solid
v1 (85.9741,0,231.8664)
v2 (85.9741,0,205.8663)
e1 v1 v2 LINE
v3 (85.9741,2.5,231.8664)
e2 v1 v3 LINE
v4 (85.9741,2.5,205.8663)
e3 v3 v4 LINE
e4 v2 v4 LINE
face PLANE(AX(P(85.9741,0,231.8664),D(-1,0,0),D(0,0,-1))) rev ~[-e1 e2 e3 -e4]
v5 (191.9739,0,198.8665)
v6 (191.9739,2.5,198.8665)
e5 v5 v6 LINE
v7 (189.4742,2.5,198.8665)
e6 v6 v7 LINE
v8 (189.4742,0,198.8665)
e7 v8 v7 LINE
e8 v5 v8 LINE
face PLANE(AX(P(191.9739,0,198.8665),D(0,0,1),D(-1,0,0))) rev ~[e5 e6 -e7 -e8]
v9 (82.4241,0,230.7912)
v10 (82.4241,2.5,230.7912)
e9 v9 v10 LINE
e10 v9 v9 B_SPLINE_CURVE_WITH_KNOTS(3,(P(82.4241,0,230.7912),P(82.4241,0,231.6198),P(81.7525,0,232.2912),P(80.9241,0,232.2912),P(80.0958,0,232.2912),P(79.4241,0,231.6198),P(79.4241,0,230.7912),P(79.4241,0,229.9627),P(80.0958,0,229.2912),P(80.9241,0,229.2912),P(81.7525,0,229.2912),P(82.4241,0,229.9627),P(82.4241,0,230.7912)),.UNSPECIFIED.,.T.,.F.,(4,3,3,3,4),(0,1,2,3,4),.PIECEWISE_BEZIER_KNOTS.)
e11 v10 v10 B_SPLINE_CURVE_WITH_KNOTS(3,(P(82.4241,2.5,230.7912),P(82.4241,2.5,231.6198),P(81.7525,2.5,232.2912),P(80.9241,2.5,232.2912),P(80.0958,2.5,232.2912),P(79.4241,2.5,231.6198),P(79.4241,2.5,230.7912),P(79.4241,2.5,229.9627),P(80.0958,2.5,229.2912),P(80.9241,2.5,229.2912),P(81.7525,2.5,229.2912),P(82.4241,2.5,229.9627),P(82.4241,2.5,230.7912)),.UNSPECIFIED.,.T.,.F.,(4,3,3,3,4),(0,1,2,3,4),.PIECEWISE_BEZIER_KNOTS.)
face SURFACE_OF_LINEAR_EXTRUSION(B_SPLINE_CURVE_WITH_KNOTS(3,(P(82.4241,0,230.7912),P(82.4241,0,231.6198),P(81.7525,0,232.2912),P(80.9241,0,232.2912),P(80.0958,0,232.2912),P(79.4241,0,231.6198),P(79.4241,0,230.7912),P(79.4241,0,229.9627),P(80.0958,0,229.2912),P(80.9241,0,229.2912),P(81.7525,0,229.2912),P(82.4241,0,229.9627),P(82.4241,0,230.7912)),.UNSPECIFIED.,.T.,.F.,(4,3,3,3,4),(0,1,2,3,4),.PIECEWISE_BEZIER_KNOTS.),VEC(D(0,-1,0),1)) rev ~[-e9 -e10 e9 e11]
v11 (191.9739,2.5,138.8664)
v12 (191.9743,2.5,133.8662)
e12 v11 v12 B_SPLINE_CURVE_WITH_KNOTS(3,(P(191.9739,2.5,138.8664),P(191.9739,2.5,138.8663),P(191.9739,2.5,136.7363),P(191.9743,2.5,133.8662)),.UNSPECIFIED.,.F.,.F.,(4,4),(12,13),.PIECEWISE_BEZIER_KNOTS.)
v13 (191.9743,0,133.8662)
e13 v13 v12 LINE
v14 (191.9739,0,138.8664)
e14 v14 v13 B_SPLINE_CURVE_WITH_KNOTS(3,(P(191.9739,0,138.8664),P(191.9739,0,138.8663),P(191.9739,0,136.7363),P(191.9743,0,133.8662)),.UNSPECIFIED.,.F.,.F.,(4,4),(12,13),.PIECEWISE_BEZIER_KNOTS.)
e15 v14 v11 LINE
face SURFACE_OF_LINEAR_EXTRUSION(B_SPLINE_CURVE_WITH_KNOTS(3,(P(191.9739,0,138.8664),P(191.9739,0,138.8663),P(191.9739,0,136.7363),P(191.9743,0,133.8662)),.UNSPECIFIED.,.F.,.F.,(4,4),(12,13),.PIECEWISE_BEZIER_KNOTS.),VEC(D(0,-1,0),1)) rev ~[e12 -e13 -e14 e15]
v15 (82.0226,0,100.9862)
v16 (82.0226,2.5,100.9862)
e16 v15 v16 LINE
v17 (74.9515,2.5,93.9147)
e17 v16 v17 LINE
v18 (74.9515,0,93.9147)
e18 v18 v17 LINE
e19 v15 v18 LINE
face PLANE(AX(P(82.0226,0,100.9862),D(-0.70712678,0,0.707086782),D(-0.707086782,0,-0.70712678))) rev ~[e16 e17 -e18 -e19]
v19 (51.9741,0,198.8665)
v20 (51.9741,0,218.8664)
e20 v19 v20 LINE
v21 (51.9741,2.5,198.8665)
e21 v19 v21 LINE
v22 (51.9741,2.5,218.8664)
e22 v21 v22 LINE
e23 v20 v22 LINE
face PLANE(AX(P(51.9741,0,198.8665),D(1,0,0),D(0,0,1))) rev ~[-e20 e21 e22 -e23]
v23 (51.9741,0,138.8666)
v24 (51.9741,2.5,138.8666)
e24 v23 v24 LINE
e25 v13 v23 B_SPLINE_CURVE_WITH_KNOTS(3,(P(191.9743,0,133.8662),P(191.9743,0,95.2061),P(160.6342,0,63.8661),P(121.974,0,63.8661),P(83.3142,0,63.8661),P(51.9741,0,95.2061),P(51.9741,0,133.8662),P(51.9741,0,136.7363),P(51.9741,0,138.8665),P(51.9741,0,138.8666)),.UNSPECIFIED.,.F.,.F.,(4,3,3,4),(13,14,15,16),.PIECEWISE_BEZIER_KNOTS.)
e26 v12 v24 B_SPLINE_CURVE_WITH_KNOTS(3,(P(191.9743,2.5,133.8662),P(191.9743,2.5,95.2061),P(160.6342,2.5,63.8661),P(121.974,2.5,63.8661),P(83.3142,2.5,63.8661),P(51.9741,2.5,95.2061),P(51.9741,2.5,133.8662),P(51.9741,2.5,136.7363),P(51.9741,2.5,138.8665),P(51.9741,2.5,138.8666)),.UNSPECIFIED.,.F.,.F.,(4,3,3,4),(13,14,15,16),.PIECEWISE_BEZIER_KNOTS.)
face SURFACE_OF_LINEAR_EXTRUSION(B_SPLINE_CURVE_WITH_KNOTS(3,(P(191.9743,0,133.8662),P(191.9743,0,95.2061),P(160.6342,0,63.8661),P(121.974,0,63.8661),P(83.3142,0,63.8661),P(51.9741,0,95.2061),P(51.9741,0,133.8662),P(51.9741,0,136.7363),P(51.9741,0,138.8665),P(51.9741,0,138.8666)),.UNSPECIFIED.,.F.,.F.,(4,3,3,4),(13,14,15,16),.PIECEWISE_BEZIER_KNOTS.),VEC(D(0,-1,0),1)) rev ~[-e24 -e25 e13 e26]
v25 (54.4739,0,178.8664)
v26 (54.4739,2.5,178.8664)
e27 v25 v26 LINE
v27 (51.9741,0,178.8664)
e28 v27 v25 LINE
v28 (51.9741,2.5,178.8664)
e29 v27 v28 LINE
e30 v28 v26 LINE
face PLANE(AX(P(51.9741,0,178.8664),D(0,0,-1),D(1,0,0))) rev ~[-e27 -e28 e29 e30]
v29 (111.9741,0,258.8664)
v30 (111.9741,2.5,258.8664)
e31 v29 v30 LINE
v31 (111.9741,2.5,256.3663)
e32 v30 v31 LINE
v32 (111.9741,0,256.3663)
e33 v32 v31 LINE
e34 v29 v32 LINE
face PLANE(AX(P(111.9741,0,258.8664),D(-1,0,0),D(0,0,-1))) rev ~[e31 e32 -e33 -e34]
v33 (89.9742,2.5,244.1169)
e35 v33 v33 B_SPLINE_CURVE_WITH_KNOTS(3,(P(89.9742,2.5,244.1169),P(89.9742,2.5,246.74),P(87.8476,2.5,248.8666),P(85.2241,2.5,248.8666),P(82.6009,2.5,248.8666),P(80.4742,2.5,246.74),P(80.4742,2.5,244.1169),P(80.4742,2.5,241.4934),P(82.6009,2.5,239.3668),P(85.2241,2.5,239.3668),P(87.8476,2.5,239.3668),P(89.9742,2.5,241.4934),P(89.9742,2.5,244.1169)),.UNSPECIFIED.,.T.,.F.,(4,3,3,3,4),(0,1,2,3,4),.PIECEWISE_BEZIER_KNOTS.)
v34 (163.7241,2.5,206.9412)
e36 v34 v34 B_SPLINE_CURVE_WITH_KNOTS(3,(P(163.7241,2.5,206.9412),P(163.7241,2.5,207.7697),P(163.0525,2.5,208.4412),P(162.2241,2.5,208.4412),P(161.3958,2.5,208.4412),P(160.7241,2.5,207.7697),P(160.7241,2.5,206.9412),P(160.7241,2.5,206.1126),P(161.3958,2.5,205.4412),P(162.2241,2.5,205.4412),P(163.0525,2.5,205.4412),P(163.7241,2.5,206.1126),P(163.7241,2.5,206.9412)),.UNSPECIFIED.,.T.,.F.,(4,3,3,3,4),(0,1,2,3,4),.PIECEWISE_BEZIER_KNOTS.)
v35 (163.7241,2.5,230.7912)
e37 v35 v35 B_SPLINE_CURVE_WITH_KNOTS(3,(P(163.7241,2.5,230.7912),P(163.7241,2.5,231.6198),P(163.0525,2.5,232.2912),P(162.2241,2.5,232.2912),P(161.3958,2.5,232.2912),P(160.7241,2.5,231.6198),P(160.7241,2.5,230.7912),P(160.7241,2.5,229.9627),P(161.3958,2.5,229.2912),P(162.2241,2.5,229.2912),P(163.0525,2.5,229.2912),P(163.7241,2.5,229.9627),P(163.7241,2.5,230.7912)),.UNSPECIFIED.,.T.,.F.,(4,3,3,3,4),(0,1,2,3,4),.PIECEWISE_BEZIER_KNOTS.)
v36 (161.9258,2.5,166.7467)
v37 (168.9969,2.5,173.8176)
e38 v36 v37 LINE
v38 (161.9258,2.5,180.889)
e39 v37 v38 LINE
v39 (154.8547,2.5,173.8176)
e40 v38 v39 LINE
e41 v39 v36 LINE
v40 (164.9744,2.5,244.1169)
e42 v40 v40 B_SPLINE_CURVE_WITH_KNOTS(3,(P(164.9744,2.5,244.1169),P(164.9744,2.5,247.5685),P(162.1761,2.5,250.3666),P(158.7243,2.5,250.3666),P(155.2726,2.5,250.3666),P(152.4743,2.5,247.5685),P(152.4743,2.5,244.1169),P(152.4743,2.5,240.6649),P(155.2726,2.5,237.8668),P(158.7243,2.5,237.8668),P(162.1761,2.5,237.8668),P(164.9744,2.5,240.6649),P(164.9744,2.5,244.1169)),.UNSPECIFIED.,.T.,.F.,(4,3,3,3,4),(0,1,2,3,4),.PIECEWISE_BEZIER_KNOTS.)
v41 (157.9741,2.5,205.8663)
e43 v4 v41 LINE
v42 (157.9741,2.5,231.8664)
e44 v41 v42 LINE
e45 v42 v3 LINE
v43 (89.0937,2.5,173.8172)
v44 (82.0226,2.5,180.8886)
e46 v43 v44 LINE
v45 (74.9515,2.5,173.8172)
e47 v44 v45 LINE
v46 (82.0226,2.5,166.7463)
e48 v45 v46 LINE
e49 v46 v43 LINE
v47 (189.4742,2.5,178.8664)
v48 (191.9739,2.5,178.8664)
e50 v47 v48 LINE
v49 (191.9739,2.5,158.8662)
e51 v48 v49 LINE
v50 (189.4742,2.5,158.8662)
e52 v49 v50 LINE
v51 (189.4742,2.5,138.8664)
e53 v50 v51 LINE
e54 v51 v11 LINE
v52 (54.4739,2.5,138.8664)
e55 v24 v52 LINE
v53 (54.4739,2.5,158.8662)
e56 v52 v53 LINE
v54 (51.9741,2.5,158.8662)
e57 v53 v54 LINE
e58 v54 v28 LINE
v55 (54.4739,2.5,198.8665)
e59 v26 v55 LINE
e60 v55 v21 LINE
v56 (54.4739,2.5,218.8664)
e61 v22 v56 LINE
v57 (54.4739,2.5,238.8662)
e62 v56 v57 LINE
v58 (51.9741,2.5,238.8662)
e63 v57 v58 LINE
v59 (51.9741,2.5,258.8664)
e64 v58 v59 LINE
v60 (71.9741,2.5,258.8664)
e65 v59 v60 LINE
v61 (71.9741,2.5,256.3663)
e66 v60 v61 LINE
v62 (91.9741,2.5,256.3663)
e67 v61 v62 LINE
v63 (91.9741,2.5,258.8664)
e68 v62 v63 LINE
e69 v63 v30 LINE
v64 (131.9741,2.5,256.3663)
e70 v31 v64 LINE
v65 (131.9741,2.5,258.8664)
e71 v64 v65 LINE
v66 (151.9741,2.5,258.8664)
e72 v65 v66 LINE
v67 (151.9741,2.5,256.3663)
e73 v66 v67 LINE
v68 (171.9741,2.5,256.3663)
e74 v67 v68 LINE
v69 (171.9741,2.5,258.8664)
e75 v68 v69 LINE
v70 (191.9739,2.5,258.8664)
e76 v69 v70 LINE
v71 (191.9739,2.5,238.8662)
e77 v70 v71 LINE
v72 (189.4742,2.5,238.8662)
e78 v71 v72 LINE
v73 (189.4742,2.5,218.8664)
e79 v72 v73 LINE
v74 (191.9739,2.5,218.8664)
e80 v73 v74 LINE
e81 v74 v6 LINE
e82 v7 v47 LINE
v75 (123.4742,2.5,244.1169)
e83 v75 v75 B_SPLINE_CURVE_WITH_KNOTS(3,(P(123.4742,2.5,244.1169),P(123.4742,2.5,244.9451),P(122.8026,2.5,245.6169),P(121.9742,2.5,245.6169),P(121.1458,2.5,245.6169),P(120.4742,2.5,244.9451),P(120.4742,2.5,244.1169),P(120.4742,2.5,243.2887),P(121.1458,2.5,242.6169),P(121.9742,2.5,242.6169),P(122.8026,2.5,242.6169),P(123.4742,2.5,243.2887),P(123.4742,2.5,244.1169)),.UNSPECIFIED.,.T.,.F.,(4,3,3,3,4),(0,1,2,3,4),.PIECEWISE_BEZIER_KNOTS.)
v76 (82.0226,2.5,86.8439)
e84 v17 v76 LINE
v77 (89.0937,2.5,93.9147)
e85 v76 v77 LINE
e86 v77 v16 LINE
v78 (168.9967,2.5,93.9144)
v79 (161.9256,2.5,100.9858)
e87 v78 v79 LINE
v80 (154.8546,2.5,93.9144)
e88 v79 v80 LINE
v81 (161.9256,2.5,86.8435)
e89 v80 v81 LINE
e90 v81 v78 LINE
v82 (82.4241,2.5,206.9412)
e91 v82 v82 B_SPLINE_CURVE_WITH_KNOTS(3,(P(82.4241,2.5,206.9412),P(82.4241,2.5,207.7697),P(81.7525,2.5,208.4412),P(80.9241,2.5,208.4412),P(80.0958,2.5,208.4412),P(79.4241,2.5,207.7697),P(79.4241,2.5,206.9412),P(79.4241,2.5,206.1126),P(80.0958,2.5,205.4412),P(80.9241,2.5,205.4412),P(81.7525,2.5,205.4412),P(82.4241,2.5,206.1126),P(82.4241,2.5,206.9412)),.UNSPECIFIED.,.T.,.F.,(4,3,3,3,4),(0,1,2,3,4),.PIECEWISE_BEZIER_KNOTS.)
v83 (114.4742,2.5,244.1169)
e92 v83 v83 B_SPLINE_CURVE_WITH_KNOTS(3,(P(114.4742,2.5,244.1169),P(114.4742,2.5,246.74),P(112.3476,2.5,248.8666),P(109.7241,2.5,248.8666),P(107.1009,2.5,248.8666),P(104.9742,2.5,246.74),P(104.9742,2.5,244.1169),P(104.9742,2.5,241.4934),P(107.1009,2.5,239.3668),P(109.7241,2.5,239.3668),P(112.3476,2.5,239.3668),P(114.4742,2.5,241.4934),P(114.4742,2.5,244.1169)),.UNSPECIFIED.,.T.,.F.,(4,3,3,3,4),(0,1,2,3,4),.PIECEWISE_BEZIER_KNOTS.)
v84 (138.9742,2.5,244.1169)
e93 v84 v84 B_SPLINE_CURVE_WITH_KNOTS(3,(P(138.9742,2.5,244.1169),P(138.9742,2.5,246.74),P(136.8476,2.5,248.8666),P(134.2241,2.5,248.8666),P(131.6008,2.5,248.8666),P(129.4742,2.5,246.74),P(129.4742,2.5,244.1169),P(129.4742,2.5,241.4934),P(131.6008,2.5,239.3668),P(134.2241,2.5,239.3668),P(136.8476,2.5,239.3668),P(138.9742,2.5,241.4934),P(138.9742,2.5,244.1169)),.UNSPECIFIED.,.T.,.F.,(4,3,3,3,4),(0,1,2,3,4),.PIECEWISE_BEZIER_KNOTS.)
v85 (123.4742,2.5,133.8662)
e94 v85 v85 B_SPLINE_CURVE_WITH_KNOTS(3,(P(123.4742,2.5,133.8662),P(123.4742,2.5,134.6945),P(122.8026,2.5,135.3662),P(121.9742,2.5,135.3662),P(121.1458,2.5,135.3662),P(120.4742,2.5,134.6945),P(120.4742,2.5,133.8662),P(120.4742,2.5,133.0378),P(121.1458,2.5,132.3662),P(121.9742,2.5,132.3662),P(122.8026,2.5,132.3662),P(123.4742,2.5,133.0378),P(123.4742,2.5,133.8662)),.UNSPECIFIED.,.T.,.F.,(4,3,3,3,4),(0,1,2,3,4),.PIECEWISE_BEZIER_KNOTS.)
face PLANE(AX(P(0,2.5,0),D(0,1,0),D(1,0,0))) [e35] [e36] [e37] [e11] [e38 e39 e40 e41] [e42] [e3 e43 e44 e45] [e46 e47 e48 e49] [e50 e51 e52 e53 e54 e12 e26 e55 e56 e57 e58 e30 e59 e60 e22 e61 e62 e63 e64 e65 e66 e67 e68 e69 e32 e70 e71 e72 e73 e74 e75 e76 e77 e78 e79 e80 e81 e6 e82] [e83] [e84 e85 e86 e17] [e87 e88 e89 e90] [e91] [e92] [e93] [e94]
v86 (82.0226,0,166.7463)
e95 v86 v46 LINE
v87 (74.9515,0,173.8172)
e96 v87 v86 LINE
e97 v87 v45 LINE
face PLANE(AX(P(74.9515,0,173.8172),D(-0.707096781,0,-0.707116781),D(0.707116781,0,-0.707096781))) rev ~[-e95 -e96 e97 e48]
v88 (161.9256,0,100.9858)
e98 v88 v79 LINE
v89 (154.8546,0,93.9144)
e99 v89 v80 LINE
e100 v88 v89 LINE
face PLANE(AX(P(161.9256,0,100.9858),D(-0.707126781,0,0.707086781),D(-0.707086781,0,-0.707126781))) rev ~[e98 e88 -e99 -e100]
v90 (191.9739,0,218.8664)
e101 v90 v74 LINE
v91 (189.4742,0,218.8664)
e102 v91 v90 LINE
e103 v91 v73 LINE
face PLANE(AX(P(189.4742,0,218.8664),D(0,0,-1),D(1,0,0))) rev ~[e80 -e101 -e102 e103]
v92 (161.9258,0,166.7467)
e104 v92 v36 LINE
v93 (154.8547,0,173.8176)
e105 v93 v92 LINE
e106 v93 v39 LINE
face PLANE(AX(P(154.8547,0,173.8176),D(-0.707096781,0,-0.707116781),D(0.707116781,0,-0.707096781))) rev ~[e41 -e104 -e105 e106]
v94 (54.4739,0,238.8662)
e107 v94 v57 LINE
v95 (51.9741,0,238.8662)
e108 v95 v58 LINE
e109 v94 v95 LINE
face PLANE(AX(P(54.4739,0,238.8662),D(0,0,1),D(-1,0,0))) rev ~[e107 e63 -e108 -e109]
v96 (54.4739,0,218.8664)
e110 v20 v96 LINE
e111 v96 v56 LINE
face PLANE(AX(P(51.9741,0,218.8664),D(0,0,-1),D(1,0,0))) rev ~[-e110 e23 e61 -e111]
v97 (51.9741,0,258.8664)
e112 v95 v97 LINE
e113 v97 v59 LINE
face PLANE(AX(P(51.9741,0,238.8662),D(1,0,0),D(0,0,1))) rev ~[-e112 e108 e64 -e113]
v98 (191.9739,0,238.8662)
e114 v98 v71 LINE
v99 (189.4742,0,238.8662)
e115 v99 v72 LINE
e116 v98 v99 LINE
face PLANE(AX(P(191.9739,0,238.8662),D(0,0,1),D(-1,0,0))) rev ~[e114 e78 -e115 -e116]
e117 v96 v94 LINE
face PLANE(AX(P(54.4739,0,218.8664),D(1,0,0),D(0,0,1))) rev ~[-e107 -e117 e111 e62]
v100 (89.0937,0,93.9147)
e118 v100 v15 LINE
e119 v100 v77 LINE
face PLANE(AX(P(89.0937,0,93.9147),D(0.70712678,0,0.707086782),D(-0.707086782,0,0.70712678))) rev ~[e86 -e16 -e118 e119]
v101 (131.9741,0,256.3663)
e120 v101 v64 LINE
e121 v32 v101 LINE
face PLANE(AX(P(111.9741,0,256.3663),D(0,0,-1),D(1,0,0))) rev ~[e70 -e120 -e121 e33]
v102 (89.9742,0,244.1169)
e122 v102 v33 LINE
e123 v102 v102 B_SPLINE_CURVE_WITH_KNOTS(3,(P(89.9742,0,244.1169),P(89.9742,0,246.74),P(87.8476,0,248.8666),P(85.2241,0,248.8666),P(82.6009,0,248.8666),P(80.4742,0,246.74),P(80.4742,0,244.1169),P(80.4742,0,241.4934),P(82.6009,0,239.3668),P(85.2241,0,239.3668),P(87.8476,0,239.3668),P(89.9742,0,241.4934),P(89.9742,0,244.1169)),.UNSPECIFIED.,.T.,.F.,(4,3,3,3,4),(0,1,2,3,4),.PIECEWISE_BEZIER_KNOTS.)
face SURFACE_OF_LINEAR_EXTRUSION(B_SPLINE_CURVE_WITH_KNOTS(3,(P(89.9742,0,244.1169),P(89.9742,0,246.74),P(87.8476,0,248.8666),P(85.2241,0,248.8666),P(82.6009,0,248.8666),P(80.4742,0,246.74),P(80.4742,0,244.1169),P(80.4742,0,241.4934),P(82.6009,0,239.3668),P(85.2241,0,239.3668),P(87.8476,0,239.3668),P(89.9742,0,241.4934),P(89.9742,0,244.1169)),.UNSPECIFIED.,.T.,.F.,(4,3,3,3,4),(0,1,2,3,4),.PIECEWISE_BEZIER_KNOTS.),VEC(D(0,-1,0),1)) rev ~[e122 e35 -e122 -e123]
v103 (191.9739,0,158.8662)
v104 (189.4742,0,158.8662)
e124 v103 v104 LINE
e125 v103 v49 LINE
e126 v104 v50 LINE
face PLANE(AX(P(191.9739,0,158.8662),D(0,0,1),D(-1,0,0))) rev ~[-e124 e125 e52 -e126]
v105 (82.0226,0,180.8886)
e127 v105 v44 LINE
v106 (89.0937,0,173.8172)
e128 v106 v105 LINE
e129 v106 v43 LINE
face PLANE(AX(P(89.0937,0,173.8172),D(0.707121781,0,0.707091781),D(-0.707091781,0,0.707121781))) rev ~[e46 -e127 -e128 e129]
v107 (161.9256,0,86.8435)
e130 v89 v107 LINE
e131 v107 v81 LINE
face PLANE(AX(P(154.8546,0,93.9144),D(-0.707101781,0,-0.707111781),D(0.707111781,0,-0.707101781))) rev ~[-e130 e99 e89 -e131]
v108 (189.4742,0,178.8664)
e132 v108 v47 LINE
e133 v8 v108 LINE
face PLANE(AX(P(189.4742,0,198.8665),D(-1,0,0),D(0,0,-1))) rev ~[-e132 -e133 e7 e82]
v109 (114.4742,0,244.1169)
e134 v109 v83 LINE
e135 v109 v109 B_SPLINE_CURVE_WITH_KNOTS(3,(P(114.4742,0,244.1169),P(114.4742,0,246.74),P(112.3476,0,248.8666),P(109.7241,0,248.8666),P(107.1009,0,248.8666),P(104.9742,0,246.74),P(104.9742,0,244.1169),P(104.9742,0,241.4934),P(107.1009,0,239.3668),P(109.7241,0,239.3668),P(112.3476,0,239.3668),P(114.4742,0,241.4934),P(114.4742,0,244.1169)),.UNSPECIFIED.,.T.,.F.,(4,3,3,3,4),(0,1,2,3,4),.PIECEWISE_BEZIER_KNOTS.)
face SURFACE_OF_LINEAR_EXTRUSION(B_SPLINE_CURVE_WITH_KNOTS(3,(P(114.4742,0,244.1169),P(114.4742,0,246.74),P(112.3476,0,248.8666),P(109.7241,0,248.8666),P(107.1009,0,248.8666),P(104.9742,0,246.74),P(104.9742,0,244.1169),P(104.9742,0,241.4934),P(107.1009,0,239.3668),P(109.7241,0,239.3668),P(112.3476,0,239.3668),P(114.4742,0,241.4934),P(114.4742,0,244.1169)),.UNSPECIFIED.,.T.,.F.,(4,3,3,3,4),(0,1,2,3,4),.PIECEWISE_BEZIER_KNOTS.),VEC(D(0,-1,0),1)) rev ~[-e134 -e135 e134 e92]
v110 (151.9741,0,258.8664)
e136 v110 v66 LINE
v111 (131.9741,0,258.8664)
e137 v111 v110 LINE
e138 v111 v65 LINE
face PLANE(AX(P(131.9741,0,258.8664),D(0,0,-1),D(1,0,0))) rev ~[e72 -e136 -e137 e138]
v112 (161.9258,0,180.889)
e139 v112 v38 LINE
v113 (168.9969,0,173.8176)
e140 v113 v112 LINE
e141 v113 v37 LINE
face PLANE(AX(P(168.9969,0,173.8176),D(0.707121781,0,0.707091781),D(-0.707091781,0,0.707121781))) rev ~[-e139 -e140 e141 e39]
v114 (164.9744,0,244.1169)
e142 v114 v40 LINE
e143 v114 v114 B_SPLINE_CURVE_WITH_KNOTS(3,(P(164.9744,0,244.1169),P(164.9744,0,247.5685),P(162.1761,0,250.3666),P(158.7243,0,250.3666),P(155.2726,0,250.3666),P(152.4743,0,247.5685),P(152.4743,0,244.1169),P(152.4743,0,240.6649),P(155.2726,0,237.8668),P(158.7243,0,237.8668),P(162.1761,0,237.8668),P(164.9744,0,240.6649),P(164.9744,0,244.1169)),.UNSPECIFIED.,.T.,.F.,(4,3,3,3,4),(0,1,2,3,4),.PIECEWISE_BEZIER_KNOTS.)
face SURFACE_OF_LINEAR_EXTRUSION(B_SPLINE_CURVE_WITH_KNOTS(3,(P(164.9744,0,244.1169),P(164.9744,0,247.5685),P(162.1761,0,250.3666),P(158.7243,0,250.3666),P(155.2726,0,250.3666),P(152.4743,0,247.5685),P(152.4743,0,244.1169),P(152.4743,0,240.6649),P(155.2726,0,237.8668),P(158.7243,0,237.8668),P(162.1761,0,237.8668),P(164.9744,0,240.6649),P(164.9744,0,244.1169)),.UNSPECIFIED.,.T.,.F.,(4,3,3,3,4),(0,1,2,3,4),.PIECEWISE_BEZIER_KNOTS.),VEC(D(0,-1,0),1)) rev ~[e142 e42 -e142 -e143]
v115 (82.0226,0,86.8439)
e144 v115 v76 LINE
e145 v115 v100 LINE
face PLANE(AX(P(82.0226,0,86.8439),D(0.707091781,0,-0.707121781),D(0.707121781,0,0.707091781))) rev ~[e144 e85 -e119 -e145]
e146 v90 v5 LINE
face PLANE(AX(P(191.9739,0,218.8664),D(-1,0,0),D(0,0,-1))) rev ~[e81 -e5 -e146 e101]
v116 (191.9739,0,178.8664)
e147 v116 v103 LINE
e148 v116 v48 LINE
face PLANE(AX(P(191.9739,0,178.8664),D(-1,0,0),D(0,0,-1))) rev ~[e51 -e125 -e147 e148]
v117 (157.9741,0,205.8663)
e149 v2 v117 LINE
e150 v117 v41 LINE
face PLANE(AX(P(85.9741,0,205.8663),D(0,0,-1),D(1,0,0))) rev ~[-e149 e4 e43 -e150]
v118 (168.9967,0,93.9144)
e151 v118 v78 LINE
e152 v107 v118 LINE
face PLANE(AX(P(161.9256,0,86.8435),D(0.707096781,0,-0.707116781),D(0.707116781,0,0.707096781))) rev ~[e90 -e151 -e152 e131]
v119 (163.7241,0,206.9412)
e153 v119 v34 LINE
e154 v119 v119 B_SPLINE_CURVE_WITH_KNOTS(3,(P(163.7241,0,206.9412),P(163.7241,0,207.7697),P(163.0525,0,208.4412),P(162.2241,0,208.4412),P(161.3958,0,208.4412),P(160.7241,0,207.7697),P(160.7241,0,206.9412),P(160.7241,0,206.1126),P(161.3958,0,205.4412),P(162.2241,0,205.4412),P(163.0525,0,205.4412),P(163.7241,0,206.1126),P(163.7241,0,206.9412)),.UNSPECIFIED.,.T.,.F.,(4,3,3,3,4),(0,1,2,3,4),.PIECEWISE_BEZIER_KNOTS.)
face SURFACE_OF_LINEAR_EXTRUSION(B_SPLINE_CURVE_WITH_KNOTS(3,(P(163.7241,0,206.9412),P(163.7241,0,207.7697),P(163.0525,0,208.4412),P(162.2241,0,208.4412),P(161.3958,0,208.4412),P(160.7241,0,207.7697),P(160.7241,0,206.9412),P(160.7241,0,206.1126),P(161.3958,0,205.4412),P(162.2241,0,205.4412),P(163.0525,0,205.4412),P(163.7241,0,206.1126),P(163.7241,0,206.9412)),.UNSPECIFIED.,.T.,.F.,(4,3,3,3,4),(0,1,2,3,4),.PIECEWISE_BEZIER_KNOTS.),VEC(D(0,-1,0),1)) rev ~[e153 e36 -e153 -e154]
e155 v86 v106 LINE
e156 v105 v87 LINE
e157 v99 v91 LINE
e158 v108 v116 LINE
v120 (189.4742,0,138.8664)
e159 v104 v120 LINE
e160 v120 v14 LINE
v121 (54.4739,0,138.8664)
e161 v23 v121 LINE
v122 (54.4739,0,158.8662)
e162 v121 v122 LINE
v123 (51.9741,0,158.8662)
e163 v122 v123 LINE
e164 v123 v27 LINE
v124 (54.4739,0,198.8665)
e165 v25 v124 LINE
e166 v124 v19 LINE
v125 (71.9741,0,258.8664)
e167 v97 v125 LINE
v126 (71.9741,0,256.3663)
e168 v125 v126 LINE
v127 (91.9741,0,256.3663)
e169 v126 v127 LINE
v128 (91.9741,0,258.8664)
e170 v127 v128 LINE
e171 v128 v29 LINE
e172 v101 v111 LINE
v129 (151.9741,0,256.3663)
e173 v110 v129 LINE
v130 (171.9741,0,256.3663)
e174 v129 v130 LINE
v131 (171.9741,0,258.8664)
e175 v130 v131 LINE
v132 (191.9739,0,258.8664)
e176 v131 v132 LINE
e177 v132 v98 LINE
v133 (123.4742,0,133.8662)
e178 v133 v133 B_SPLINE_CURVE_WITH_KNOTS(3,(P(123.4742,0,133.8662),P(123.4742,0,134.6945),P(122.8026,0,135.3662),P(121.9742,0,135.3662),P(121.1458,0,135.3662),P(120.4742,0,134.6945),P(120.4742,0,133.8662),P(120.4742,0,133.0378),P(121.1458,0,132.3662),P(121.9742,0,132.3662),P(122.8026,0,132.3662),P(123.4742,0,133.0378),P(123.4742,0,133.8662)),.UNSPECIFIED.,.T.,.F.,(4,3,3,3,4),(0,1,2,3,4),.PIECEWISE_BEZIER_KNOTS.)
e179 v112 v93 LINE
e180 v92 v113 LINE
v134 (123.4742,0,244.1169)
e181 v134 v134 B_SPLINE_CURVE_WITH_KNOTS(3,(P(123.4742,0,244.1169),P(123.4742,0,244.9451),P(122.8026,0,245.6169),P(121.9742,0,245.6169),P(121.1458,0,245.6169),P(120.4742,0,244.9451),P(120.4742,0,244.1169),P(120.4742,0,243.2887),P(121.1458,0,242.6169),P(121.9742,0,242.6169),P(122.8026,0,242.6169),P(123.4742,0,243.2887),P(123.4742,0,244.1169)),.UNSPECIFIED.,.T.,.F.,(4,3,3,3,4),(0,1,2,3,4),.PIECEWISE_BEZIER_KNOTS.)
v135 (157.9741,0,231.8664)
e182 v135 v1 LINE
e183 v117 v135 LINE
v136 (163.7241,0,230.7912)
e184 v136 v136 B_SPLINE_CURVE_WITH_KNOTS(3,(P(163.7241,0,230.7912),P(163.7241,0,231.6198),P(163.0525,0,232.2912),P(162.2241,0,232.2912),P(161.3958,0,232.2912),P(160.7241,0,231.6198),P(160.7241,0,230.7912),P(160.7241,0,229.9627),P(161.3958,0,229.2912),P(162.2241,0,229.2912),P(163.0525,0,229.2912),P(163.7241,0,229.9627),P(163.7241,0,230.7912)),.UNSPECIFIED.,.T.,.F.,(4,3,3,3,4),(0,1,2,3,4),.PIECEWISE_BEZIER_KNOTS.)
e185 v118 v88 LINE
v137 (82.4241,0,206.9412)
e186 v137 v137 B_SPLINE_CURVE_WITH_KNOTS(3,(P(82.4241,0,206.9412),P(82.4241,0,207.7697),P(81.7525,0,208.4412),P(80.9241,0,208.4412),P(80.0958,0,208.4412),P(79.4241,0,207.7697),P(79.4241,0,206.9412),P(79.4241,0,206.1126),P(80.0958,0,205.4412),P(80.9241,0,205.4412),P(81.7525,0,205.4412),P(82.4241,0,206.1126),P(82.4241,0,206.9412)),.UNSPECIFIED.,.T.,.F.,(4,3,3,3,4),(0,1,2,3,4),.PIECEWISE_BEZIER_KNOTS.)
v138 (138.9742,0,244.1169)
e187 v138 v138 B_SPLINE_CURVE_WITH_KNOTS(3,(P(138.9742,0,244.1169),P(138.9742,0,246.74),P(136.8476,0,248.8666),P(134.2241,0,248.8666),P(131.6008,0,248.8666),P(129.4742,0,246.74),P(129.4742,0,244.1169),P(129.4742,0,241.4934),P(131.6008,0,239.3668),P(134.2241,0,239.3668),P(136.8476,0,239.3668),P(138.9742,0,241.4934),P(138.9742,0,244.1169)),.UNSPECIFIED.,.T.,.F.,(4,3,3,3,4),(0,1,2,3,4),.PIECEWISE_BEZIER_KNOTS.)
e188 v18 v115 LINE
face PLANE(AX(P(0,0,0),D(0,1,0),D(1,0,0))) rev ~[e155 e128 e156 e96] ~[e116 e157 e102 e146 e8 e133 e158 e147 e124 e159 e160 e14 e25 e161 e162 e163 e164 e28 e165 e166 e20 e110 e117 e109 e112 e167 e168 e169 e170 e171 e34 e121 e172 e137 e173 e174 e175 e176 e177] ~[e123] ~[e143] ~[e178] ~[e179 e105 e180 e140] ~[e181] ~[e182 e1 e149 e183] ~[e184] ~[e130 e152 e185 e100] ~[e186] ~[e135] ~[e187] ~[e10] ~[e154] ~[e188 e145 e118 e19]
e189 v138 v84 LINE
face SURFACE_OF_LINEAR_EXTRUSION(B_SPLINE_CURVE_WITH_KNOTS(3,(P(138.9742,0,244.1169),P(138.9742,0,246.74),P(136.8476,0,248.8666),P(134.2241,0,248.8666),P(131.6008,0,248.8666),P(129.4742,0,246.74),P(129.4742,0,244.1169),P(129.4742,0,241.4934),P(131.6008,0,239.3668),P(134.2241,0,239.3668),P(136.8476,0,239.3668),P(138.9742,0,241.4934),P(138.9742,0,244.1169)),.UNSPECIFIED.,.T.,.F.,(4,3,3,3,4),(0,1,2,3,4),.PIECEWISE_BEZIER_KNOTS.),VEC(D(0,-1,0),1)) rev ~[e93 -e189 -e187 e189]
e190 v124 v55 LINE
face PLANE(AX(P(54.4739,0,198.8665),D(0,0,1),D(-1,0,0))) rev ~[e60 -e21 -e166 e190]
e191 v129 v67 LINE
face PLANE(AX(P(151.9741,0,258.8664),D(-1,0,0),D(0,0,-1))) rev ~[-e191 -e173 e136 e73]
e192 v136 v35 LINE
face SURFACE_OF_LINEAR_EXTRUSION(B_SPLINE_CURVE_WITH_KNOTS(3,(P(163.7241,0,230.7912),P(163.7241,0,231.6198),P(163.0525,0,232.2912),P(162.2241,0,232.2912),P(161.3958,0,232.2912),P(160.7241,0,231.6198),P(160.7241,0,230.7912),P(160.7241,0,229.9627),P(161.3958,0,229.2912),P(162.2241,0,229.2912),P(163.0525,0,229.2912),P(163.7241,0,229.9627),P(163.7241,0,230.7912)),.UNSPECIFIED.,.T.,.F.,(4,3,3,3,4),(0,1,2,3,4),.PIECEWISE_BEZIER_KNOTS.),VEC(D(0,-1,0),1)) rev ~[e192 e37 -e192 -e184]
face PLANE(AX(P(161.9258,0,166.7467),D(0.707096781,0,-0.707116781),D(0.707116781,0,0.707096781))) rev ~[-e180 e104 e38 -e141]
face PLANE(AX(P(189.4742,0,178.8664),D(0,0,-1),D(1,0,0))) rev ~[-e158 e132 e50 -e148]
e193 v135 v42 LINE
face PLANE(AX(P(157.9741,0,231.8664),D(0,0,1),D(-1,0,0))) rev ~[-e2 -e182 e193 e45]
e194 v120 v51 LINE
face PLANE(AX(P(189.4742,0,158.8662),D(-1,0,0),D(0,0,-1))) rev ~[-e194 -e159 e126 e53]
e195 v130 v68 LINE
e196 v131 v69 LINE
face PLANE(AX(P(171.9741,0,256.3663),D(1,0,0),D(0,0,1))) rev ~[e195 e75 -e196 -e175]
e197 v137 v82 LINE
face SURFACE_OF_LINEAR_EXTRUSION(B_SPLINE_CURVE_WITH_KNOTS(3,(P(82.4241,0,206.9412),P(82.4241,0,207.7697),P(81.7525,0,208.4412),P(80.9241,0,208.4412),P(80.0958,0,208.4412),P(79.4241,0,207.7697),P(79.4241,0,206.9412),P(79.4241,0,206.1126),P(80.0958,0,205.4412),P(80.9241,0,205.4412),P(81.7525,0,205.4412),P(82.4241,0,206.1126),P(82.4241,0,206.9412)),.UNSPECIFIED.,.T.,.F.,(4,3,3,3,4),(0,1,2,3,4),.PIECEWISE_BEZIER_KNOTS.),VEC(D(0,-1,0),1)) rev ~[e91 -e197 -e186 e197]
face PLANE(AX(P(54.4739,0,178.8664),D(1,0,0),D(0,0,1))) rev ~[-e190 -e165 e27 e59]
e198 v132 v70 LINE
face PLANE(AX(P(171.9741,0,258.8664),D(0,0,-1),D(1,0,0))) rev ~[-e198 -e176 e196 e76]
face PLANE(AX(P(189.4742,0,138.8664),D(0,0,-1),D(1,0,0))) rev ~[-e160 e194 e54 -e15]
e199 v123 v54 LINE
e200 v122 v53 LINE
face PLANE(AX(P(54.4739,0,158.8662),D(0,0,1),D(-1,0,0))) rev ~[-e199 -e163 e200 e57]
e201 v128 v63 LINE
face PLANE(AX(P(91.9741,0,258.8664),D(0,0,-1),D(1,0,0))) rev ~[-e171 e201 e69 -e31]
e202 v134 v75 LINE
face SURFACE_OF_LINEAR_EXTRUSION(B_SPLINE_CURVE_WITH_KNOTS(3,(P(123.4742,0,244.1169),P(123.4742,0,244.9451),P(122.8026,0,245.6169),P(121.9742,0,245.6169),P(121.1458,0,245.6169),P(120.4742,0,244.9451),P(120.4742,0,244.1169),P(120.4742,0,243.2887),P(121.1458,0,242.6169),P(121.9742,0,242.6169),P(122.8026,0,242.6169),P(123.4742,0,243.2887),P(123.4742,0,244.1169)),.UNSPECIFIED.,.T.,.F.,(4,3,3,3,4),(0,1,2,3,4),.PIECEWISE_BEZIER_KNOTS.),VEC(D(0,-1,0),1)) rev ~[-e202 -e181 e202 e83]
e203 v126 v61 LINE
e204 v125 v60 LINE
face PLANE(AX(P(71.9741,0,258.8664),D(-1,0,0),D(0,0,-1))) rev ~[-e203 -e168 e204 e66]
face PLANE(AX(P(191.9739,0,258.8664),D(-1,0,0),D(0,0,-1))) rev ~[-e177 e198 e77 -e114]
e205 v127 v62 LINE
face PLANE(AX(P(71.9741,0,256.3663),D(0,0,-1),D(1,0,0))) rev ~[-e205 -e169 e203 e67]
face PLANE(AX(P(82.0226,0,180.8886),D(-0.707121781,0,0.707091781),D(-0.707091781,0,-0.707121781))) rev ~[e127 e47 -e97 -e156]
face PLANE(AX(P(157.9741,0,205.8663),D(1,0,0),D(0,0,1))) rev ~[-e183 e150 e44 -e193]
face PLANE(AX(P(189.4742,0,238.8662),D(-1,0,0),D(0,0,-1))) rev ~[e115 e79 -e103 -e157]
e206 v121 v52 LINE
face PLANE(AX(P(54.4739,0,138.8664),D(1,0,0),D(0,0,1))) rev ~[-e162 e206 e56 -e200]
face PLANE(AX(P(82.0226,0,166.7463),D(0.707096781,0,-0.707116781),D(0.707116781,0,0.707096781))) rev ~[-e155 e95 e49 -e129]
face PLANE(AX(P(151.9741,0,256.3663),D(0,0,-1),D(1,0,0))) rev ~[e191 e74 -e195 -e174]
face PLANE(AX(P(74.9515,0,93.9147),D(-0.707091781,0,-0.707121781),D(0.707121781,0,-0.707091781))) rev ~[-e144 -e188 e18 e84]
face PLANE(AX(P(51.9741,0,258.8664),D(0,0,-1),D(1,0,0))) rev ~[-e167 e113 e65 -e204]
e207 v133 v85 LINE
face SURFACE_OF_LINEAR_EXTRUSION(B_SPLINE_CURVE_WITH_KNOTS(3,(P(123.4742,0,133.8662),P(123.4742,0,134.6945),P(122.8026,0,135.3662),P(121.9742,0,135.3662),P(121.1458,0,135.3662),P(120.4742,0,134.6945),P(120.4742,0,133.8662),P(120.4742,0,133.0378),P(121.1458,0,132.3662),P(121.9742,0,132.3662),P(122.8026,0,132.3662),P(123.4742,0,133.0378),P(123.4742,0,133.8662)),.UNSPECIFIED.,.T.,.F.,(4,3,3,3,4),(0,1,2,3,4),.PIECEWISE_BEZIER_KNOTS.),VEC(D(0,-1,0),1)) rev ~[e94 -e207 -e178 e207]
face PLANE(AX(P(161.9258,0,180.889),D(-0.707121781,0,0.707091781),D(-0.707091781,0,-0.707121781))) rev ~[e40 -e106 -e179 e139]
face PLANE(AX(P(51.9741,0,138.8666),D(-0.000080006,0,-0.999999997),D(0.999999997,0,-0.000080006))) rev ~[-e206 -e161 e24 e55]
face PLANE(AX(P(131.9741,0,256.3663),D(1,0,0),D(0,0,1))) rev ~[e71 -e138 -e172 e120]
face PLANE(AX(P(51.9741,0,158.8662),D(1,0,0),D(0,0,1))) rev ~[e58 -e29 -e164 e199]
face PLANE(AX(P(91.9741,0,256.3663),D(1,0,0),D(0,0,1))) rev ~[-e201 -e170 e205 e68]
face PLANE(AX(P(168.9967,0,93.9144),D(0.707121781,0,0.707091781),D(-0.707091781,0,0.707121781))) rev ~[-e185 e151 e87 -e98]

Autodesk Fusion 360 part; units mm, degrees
sketch "スケッチ1" plane through (0, 0, 0) normal (0, 1, 0) x (1, 0, 0)
  line L0 (74.9515, -173.8172) -> (82.0226, -166.7463)
  line L1 (82.0226, -180.8886) -> (74.9515, -173.8172)
  line L2 (168.9969, -173.8176) -> (161.9258, -180.889)
  line L3 (161.9258, -166.7467) -> (168.9969, -173.8176)
  line L4 (85.9741, -205.8663) -> (157.9741, -205.8663)
  line L5 (74.9515, -93.9147) -> (82.0226, -86.8439)
  line L6 (191.9739, -258.8664) -> (191.9739, -238.8662)
  line L7 (191.9739, -238.8662) -> (189.4742, -238.8662)
  line L8 (189.4742, -238.8662) -> (189.4742, -218.8664)
  line L9 (189.4742, -218.8664) -> (191.9739, -218.8664)
  line L10 (191.9739, -218.8664) -> (191.9739, -198.8665)
  line L11 (191.9739, -198.8665) -> (189.4742, -198.8665)
  line L12 (189.4742, -198.8665) -> (189.4742, -178.8664)
  line L13 (189.4742, -178.8664) -> (191.9739, -178.8664)
  line L14 (191.9739, -178.8664) -> (191.9739, -158.8662)
  line L15 (191.9739, -158.8662) -> (189.4742, -158.8662)
  line L16 (189.4742, -158.8662) -> (189.4742, -138.8664)
  line L17 (189.4742, -138.8664) -> (191.9739, -138.8664)
  spline S0 degree 3 poles (191.9739, -138.8664) (191.9739, -138.8663) (191.9739, -136.7363) (191.9743, -133.8662) knots 12 12 12 12 13 13 13 13
  spline S1 degree 3 poles (191.9743, -133.8662) (191.9743, -95.2061) (160.6342, -63.8661) (121.974, -63.8661) (83.3142, -63.8661) (51.9741, -95.2061) (51.9741, -133.8662) (51.9741, -136.7363) (51.9741, -138.8665) (51.9741, -138.8666) knots 13 13 13 13 14 14 14 15 15 15 16 16 16 16
  line L18 (51.9741, -138.8666) -> (54.4739, -138.8664)
  line L19 (54.4739, -138.8664) -> (54.4739, -158.8662)
  line L20 (54.4739, -158.8662) -> (51.9741, -158.8662)
  line L21 (51.9741, -158.8662) -> (51.9741, -178.8664)
  line L22 (51.9741, -178.8664) -> (54.4739, -178.8664)
  line L23 (54.4739, -178.8664) -> (54.4739, -198.8665)
  line L24 (54.4739, -198.8665) -> (51.9741, -198.8665)
  line L25 (51.9741, -198.8665) -> (51.9741, -218.8664)
  line L26 (51.9741, -218.8664) -> (54.4739, -218.8664)
  line L27 (54.4739, -218.8664) -> (54.4739, -238.8662)
  line L28 (54.4739, -238.8662) -> (51.9741, -238.8662)
  line L29 (51.9741, -238.8662) -> (51.9741, -258.8664)
  line L30 (51.9741, -258.8664) -> (71.9741, -258.8664)
  line L31 (71.9741, -258.8664) -> (71.9741, -256.3663)
  line L32 (71.9741, -256.3663) -> (91.9741, -256.3663)
  line L33 (91.9741, -256.3663) -> (91.9741, -258.8664)
  line L34 (91.9741, -258.8664) -> (111.9741, -258.8664)
  line L35 (111.9741, -258.8664) -> (111.9741, -256.3663)
  line L36 (111.9741, -256.3663) -> (131.9741, -256.3663)
  line L37 (131.9741, -256.3663) -> (131.9741, -258.8664)
  line L38 (131.9741, -258.8664) -> (151.9741, -258.8664)
  line L39 (151.9741, -258.8664) -> (151.9741, -256.3663)
  line L40 (151.9741, -256.3663) -> (171.9741, -256.3663)
  line L41 (171.9741, -256.3663) -> (171.9741, -258.8664)
  line L42 (171.9741, -258.8664) -> (191.9739, -258.8664)
  line L43 (89.0937, -173.8172) -> (82.0226, -180.8886)
  line L44 (161.9256, -100.9858) -> (154.8546, -93.9144)
  line L45 (161.9258, -180.889) -> (154.8547, -173.8176)
  line L46 (89.0937, -93.9147) -> (82.0226, -100.9862)
  spline S2 degree 3 poles (123.4742, -244.1169) (123.4742, -244.9451) (122.8026, -245.6169) (121.9742, -245.6169) (121.1458, -245.6169) (120.4742, -244.9451) (120.4742, -244.1169) (120.4742, -243.2887) (121.1458, -242.6169) (121.9742, -242.6169) (122.8026, -242.6169) (123.4742, -243.2887) (123.4742, -244.1169) knots 0 0 0 0 1 1 1 2 2 2 3 3 3 4 4 4 4
  line L47 (161.9256, -86.8435) -> (168.9967, -93.9144)
  line L48 (82.0226, -86.8439) -> (89.0937, -93.9147)
  line L49 (168.9967, -93.9144) -> (161.9256, -100.9858)
  line L50 (154.8546, -93.9144) -> (161.9256, -86.8435)
  spline S3 degree 3 poles (123.4742, -133.8662) (123.4742, -134.6945) (122.8026, -135.3662) (121.9742, -135.3662) (121.1458, -135.3662) (120.4742, -134.6945) (120.4742, -133.8662) (120.4742, -133.0378) (121.1458, -132.3662) (121.9742, -132.3662) (122.8026, -132.3662) (123.4742, -133.0378) (123.4742, -133.8662) knots 0 0 0 0 1 1 1 2 2 2 3 3 3 4 4 4 4
  line L51 (82.0226, -166.7463) -> (89.0937, -173.8172)
  line L52 (82.0226, -100.9862) -> (74.9515, -93.9147)
  line L53 (154.8547, -173.8176) -> (161.9258, -166.7467)
  spline S4 degree 3 poles (164.9744, -244.1169) (164.9744, -247.5685) (162.1761, -250.3666) (158.7243, -250.3666) (155.2726, -250.3666) (152.4743, -247.5685) (152.4743, -244.1169) (152.4743, -240.6649) (155.2726, -237.8668) (158.7243, -237.8668) (162.1761, -237.8668) (164.9744, -240.6649) (164.9744, -244.1169) knots 0 0 0 0 1 1 1 2 2 2 3 3 3 4 4 4 4
  spline S5 degree 3 poles (114.4742, -244.1169) (114.4742, -246.74) (112.3476, -248.8666) (109.7241, -248.8666) (107.1009, -248.8666) (104.9742, -246.74) (104.9742, -244.1169) (104.9742, -241.4934) (107.1009, -239.3668) (109.7241, -239.3668) (112.3476, -239.3668) (114.4742, -241.4934) (114.4742, -244.1169) knots 0 0 0 0 1 1 1 2 2 2 3 3 3 4 4 4 4
  spline S6 degree 3 poles (163.7241, -230.7912) (163.7241, -231.6198) (163.0525, -232.2912) (162.2241, -232.2912) (161.3958, -232.2912) (160.7241, -231.6198) (160.7241, -230.7912) (160.7241, -229.9627) (161.3958, -229.2912) (162.2241, -229.2912) (163.0525, -229.2912) (163.7241, -229.9627) (163.7241, -230.7912) knots 0 0 0 0 1 1 1 2 2 2 3 3 3 4 4 4 4
  spline S7 degree 3 poles (89.9742, -244.1169) (89.9742, -246.74) (87.8476, -248.8666) (85.2241, -248.8666) (82.6009, -248.8666) (80.4742, -246.74) (80.4742, -244.1169) (80.4742, -241.4934) (82.6009, -239.3668) (85.2241, -239.3668) (87.8476, -239.3668) (89.9742, -241.4934) (89.9742, -244.1169) knots 0 0 0 0 1 1 1 2 2 2 3 3 3 4 4 4 4
  spline S8 degree 3 poles (163.7241, -206.9412) (163.7241, -207.7697) (163.0525, -208.4412) (162.2241, -208.4412) (161.3958, -208.4412) (160.7241, -207.7697) (160.7241, -206.9412) (160.7241, -206.1126) (161.3958, -205.4412) (162.2241, -205.4412) (163.0525, -205.4412) (163.7241, -206.1126) (163.7241, -206.9412) knots 0 0 0 0 1 1 1 2 2 2 3 3 3 4 4 4 4
  line L54 (85.9741, -231.8664) -> (85.9741, -205.8663)
  line L55 (157.9741, -231.8664) -> (85.9741, -231.8664)
  spline S9 degree 3 poles (82.4241, -230.7912) (82.4241, -231.6198) (81.7525, -232.2912) (80.9241, -232.2912) (80.0958, -232.2912) (79.4241, -231.6198) (79.4241, -230.7912) (79.4241, -229.9627) (80.0958, -229.2912) (80.9241, -229.2912) (81.7525, -229.2912) (82.4241, -229.9627) (82.4241, -230.7912) knots 0 0 0 0 1 1 1 2 2 2 3 3 3 4 4 4 4
  spline S10 degree 3 poles (82.4241, -206.9412) (82.4241, -207.7697) (81.7525, -208.4412) (80.9241, -208.4412) (80.0958, -208.4412) (79.4241, -207.7697) (79.4241, -206.9412) (79.4241, -206.1126) (80.0958, -205.4412) (80.9241, -205.4412) (81.7525, -205.4412) (82.4241, -206.1126) (82.4241, -206.9412) knots 0 0 0 0 1 1 1 2 2 2 3 3 3 4 4 4 4
  line L56 (157.9741, -205.8663) -> (157.9741, -231.8664)
  spline S11 degree 3 poles (138.9742, -244.1169) (138.9742, -246.74) (136.8476, -248.8666) (134.2241, -248.8666) (131.6008, -248.8666) (129.4742, -246.74) (129.4742, -244.1169) (129.4742, -241.4934) (131.6008, -239.3668) (134.2241, -239.3668) (136.8476, -239.3668) (138.9742, -241.4934) (138.9742, -244.1169) knots 0 0 0 0 1 1 1 2 2 2 3 3 3 4 4 4 4
extrude "押し出し1" add sketch "スケッチ1" along normal blind 2.5
